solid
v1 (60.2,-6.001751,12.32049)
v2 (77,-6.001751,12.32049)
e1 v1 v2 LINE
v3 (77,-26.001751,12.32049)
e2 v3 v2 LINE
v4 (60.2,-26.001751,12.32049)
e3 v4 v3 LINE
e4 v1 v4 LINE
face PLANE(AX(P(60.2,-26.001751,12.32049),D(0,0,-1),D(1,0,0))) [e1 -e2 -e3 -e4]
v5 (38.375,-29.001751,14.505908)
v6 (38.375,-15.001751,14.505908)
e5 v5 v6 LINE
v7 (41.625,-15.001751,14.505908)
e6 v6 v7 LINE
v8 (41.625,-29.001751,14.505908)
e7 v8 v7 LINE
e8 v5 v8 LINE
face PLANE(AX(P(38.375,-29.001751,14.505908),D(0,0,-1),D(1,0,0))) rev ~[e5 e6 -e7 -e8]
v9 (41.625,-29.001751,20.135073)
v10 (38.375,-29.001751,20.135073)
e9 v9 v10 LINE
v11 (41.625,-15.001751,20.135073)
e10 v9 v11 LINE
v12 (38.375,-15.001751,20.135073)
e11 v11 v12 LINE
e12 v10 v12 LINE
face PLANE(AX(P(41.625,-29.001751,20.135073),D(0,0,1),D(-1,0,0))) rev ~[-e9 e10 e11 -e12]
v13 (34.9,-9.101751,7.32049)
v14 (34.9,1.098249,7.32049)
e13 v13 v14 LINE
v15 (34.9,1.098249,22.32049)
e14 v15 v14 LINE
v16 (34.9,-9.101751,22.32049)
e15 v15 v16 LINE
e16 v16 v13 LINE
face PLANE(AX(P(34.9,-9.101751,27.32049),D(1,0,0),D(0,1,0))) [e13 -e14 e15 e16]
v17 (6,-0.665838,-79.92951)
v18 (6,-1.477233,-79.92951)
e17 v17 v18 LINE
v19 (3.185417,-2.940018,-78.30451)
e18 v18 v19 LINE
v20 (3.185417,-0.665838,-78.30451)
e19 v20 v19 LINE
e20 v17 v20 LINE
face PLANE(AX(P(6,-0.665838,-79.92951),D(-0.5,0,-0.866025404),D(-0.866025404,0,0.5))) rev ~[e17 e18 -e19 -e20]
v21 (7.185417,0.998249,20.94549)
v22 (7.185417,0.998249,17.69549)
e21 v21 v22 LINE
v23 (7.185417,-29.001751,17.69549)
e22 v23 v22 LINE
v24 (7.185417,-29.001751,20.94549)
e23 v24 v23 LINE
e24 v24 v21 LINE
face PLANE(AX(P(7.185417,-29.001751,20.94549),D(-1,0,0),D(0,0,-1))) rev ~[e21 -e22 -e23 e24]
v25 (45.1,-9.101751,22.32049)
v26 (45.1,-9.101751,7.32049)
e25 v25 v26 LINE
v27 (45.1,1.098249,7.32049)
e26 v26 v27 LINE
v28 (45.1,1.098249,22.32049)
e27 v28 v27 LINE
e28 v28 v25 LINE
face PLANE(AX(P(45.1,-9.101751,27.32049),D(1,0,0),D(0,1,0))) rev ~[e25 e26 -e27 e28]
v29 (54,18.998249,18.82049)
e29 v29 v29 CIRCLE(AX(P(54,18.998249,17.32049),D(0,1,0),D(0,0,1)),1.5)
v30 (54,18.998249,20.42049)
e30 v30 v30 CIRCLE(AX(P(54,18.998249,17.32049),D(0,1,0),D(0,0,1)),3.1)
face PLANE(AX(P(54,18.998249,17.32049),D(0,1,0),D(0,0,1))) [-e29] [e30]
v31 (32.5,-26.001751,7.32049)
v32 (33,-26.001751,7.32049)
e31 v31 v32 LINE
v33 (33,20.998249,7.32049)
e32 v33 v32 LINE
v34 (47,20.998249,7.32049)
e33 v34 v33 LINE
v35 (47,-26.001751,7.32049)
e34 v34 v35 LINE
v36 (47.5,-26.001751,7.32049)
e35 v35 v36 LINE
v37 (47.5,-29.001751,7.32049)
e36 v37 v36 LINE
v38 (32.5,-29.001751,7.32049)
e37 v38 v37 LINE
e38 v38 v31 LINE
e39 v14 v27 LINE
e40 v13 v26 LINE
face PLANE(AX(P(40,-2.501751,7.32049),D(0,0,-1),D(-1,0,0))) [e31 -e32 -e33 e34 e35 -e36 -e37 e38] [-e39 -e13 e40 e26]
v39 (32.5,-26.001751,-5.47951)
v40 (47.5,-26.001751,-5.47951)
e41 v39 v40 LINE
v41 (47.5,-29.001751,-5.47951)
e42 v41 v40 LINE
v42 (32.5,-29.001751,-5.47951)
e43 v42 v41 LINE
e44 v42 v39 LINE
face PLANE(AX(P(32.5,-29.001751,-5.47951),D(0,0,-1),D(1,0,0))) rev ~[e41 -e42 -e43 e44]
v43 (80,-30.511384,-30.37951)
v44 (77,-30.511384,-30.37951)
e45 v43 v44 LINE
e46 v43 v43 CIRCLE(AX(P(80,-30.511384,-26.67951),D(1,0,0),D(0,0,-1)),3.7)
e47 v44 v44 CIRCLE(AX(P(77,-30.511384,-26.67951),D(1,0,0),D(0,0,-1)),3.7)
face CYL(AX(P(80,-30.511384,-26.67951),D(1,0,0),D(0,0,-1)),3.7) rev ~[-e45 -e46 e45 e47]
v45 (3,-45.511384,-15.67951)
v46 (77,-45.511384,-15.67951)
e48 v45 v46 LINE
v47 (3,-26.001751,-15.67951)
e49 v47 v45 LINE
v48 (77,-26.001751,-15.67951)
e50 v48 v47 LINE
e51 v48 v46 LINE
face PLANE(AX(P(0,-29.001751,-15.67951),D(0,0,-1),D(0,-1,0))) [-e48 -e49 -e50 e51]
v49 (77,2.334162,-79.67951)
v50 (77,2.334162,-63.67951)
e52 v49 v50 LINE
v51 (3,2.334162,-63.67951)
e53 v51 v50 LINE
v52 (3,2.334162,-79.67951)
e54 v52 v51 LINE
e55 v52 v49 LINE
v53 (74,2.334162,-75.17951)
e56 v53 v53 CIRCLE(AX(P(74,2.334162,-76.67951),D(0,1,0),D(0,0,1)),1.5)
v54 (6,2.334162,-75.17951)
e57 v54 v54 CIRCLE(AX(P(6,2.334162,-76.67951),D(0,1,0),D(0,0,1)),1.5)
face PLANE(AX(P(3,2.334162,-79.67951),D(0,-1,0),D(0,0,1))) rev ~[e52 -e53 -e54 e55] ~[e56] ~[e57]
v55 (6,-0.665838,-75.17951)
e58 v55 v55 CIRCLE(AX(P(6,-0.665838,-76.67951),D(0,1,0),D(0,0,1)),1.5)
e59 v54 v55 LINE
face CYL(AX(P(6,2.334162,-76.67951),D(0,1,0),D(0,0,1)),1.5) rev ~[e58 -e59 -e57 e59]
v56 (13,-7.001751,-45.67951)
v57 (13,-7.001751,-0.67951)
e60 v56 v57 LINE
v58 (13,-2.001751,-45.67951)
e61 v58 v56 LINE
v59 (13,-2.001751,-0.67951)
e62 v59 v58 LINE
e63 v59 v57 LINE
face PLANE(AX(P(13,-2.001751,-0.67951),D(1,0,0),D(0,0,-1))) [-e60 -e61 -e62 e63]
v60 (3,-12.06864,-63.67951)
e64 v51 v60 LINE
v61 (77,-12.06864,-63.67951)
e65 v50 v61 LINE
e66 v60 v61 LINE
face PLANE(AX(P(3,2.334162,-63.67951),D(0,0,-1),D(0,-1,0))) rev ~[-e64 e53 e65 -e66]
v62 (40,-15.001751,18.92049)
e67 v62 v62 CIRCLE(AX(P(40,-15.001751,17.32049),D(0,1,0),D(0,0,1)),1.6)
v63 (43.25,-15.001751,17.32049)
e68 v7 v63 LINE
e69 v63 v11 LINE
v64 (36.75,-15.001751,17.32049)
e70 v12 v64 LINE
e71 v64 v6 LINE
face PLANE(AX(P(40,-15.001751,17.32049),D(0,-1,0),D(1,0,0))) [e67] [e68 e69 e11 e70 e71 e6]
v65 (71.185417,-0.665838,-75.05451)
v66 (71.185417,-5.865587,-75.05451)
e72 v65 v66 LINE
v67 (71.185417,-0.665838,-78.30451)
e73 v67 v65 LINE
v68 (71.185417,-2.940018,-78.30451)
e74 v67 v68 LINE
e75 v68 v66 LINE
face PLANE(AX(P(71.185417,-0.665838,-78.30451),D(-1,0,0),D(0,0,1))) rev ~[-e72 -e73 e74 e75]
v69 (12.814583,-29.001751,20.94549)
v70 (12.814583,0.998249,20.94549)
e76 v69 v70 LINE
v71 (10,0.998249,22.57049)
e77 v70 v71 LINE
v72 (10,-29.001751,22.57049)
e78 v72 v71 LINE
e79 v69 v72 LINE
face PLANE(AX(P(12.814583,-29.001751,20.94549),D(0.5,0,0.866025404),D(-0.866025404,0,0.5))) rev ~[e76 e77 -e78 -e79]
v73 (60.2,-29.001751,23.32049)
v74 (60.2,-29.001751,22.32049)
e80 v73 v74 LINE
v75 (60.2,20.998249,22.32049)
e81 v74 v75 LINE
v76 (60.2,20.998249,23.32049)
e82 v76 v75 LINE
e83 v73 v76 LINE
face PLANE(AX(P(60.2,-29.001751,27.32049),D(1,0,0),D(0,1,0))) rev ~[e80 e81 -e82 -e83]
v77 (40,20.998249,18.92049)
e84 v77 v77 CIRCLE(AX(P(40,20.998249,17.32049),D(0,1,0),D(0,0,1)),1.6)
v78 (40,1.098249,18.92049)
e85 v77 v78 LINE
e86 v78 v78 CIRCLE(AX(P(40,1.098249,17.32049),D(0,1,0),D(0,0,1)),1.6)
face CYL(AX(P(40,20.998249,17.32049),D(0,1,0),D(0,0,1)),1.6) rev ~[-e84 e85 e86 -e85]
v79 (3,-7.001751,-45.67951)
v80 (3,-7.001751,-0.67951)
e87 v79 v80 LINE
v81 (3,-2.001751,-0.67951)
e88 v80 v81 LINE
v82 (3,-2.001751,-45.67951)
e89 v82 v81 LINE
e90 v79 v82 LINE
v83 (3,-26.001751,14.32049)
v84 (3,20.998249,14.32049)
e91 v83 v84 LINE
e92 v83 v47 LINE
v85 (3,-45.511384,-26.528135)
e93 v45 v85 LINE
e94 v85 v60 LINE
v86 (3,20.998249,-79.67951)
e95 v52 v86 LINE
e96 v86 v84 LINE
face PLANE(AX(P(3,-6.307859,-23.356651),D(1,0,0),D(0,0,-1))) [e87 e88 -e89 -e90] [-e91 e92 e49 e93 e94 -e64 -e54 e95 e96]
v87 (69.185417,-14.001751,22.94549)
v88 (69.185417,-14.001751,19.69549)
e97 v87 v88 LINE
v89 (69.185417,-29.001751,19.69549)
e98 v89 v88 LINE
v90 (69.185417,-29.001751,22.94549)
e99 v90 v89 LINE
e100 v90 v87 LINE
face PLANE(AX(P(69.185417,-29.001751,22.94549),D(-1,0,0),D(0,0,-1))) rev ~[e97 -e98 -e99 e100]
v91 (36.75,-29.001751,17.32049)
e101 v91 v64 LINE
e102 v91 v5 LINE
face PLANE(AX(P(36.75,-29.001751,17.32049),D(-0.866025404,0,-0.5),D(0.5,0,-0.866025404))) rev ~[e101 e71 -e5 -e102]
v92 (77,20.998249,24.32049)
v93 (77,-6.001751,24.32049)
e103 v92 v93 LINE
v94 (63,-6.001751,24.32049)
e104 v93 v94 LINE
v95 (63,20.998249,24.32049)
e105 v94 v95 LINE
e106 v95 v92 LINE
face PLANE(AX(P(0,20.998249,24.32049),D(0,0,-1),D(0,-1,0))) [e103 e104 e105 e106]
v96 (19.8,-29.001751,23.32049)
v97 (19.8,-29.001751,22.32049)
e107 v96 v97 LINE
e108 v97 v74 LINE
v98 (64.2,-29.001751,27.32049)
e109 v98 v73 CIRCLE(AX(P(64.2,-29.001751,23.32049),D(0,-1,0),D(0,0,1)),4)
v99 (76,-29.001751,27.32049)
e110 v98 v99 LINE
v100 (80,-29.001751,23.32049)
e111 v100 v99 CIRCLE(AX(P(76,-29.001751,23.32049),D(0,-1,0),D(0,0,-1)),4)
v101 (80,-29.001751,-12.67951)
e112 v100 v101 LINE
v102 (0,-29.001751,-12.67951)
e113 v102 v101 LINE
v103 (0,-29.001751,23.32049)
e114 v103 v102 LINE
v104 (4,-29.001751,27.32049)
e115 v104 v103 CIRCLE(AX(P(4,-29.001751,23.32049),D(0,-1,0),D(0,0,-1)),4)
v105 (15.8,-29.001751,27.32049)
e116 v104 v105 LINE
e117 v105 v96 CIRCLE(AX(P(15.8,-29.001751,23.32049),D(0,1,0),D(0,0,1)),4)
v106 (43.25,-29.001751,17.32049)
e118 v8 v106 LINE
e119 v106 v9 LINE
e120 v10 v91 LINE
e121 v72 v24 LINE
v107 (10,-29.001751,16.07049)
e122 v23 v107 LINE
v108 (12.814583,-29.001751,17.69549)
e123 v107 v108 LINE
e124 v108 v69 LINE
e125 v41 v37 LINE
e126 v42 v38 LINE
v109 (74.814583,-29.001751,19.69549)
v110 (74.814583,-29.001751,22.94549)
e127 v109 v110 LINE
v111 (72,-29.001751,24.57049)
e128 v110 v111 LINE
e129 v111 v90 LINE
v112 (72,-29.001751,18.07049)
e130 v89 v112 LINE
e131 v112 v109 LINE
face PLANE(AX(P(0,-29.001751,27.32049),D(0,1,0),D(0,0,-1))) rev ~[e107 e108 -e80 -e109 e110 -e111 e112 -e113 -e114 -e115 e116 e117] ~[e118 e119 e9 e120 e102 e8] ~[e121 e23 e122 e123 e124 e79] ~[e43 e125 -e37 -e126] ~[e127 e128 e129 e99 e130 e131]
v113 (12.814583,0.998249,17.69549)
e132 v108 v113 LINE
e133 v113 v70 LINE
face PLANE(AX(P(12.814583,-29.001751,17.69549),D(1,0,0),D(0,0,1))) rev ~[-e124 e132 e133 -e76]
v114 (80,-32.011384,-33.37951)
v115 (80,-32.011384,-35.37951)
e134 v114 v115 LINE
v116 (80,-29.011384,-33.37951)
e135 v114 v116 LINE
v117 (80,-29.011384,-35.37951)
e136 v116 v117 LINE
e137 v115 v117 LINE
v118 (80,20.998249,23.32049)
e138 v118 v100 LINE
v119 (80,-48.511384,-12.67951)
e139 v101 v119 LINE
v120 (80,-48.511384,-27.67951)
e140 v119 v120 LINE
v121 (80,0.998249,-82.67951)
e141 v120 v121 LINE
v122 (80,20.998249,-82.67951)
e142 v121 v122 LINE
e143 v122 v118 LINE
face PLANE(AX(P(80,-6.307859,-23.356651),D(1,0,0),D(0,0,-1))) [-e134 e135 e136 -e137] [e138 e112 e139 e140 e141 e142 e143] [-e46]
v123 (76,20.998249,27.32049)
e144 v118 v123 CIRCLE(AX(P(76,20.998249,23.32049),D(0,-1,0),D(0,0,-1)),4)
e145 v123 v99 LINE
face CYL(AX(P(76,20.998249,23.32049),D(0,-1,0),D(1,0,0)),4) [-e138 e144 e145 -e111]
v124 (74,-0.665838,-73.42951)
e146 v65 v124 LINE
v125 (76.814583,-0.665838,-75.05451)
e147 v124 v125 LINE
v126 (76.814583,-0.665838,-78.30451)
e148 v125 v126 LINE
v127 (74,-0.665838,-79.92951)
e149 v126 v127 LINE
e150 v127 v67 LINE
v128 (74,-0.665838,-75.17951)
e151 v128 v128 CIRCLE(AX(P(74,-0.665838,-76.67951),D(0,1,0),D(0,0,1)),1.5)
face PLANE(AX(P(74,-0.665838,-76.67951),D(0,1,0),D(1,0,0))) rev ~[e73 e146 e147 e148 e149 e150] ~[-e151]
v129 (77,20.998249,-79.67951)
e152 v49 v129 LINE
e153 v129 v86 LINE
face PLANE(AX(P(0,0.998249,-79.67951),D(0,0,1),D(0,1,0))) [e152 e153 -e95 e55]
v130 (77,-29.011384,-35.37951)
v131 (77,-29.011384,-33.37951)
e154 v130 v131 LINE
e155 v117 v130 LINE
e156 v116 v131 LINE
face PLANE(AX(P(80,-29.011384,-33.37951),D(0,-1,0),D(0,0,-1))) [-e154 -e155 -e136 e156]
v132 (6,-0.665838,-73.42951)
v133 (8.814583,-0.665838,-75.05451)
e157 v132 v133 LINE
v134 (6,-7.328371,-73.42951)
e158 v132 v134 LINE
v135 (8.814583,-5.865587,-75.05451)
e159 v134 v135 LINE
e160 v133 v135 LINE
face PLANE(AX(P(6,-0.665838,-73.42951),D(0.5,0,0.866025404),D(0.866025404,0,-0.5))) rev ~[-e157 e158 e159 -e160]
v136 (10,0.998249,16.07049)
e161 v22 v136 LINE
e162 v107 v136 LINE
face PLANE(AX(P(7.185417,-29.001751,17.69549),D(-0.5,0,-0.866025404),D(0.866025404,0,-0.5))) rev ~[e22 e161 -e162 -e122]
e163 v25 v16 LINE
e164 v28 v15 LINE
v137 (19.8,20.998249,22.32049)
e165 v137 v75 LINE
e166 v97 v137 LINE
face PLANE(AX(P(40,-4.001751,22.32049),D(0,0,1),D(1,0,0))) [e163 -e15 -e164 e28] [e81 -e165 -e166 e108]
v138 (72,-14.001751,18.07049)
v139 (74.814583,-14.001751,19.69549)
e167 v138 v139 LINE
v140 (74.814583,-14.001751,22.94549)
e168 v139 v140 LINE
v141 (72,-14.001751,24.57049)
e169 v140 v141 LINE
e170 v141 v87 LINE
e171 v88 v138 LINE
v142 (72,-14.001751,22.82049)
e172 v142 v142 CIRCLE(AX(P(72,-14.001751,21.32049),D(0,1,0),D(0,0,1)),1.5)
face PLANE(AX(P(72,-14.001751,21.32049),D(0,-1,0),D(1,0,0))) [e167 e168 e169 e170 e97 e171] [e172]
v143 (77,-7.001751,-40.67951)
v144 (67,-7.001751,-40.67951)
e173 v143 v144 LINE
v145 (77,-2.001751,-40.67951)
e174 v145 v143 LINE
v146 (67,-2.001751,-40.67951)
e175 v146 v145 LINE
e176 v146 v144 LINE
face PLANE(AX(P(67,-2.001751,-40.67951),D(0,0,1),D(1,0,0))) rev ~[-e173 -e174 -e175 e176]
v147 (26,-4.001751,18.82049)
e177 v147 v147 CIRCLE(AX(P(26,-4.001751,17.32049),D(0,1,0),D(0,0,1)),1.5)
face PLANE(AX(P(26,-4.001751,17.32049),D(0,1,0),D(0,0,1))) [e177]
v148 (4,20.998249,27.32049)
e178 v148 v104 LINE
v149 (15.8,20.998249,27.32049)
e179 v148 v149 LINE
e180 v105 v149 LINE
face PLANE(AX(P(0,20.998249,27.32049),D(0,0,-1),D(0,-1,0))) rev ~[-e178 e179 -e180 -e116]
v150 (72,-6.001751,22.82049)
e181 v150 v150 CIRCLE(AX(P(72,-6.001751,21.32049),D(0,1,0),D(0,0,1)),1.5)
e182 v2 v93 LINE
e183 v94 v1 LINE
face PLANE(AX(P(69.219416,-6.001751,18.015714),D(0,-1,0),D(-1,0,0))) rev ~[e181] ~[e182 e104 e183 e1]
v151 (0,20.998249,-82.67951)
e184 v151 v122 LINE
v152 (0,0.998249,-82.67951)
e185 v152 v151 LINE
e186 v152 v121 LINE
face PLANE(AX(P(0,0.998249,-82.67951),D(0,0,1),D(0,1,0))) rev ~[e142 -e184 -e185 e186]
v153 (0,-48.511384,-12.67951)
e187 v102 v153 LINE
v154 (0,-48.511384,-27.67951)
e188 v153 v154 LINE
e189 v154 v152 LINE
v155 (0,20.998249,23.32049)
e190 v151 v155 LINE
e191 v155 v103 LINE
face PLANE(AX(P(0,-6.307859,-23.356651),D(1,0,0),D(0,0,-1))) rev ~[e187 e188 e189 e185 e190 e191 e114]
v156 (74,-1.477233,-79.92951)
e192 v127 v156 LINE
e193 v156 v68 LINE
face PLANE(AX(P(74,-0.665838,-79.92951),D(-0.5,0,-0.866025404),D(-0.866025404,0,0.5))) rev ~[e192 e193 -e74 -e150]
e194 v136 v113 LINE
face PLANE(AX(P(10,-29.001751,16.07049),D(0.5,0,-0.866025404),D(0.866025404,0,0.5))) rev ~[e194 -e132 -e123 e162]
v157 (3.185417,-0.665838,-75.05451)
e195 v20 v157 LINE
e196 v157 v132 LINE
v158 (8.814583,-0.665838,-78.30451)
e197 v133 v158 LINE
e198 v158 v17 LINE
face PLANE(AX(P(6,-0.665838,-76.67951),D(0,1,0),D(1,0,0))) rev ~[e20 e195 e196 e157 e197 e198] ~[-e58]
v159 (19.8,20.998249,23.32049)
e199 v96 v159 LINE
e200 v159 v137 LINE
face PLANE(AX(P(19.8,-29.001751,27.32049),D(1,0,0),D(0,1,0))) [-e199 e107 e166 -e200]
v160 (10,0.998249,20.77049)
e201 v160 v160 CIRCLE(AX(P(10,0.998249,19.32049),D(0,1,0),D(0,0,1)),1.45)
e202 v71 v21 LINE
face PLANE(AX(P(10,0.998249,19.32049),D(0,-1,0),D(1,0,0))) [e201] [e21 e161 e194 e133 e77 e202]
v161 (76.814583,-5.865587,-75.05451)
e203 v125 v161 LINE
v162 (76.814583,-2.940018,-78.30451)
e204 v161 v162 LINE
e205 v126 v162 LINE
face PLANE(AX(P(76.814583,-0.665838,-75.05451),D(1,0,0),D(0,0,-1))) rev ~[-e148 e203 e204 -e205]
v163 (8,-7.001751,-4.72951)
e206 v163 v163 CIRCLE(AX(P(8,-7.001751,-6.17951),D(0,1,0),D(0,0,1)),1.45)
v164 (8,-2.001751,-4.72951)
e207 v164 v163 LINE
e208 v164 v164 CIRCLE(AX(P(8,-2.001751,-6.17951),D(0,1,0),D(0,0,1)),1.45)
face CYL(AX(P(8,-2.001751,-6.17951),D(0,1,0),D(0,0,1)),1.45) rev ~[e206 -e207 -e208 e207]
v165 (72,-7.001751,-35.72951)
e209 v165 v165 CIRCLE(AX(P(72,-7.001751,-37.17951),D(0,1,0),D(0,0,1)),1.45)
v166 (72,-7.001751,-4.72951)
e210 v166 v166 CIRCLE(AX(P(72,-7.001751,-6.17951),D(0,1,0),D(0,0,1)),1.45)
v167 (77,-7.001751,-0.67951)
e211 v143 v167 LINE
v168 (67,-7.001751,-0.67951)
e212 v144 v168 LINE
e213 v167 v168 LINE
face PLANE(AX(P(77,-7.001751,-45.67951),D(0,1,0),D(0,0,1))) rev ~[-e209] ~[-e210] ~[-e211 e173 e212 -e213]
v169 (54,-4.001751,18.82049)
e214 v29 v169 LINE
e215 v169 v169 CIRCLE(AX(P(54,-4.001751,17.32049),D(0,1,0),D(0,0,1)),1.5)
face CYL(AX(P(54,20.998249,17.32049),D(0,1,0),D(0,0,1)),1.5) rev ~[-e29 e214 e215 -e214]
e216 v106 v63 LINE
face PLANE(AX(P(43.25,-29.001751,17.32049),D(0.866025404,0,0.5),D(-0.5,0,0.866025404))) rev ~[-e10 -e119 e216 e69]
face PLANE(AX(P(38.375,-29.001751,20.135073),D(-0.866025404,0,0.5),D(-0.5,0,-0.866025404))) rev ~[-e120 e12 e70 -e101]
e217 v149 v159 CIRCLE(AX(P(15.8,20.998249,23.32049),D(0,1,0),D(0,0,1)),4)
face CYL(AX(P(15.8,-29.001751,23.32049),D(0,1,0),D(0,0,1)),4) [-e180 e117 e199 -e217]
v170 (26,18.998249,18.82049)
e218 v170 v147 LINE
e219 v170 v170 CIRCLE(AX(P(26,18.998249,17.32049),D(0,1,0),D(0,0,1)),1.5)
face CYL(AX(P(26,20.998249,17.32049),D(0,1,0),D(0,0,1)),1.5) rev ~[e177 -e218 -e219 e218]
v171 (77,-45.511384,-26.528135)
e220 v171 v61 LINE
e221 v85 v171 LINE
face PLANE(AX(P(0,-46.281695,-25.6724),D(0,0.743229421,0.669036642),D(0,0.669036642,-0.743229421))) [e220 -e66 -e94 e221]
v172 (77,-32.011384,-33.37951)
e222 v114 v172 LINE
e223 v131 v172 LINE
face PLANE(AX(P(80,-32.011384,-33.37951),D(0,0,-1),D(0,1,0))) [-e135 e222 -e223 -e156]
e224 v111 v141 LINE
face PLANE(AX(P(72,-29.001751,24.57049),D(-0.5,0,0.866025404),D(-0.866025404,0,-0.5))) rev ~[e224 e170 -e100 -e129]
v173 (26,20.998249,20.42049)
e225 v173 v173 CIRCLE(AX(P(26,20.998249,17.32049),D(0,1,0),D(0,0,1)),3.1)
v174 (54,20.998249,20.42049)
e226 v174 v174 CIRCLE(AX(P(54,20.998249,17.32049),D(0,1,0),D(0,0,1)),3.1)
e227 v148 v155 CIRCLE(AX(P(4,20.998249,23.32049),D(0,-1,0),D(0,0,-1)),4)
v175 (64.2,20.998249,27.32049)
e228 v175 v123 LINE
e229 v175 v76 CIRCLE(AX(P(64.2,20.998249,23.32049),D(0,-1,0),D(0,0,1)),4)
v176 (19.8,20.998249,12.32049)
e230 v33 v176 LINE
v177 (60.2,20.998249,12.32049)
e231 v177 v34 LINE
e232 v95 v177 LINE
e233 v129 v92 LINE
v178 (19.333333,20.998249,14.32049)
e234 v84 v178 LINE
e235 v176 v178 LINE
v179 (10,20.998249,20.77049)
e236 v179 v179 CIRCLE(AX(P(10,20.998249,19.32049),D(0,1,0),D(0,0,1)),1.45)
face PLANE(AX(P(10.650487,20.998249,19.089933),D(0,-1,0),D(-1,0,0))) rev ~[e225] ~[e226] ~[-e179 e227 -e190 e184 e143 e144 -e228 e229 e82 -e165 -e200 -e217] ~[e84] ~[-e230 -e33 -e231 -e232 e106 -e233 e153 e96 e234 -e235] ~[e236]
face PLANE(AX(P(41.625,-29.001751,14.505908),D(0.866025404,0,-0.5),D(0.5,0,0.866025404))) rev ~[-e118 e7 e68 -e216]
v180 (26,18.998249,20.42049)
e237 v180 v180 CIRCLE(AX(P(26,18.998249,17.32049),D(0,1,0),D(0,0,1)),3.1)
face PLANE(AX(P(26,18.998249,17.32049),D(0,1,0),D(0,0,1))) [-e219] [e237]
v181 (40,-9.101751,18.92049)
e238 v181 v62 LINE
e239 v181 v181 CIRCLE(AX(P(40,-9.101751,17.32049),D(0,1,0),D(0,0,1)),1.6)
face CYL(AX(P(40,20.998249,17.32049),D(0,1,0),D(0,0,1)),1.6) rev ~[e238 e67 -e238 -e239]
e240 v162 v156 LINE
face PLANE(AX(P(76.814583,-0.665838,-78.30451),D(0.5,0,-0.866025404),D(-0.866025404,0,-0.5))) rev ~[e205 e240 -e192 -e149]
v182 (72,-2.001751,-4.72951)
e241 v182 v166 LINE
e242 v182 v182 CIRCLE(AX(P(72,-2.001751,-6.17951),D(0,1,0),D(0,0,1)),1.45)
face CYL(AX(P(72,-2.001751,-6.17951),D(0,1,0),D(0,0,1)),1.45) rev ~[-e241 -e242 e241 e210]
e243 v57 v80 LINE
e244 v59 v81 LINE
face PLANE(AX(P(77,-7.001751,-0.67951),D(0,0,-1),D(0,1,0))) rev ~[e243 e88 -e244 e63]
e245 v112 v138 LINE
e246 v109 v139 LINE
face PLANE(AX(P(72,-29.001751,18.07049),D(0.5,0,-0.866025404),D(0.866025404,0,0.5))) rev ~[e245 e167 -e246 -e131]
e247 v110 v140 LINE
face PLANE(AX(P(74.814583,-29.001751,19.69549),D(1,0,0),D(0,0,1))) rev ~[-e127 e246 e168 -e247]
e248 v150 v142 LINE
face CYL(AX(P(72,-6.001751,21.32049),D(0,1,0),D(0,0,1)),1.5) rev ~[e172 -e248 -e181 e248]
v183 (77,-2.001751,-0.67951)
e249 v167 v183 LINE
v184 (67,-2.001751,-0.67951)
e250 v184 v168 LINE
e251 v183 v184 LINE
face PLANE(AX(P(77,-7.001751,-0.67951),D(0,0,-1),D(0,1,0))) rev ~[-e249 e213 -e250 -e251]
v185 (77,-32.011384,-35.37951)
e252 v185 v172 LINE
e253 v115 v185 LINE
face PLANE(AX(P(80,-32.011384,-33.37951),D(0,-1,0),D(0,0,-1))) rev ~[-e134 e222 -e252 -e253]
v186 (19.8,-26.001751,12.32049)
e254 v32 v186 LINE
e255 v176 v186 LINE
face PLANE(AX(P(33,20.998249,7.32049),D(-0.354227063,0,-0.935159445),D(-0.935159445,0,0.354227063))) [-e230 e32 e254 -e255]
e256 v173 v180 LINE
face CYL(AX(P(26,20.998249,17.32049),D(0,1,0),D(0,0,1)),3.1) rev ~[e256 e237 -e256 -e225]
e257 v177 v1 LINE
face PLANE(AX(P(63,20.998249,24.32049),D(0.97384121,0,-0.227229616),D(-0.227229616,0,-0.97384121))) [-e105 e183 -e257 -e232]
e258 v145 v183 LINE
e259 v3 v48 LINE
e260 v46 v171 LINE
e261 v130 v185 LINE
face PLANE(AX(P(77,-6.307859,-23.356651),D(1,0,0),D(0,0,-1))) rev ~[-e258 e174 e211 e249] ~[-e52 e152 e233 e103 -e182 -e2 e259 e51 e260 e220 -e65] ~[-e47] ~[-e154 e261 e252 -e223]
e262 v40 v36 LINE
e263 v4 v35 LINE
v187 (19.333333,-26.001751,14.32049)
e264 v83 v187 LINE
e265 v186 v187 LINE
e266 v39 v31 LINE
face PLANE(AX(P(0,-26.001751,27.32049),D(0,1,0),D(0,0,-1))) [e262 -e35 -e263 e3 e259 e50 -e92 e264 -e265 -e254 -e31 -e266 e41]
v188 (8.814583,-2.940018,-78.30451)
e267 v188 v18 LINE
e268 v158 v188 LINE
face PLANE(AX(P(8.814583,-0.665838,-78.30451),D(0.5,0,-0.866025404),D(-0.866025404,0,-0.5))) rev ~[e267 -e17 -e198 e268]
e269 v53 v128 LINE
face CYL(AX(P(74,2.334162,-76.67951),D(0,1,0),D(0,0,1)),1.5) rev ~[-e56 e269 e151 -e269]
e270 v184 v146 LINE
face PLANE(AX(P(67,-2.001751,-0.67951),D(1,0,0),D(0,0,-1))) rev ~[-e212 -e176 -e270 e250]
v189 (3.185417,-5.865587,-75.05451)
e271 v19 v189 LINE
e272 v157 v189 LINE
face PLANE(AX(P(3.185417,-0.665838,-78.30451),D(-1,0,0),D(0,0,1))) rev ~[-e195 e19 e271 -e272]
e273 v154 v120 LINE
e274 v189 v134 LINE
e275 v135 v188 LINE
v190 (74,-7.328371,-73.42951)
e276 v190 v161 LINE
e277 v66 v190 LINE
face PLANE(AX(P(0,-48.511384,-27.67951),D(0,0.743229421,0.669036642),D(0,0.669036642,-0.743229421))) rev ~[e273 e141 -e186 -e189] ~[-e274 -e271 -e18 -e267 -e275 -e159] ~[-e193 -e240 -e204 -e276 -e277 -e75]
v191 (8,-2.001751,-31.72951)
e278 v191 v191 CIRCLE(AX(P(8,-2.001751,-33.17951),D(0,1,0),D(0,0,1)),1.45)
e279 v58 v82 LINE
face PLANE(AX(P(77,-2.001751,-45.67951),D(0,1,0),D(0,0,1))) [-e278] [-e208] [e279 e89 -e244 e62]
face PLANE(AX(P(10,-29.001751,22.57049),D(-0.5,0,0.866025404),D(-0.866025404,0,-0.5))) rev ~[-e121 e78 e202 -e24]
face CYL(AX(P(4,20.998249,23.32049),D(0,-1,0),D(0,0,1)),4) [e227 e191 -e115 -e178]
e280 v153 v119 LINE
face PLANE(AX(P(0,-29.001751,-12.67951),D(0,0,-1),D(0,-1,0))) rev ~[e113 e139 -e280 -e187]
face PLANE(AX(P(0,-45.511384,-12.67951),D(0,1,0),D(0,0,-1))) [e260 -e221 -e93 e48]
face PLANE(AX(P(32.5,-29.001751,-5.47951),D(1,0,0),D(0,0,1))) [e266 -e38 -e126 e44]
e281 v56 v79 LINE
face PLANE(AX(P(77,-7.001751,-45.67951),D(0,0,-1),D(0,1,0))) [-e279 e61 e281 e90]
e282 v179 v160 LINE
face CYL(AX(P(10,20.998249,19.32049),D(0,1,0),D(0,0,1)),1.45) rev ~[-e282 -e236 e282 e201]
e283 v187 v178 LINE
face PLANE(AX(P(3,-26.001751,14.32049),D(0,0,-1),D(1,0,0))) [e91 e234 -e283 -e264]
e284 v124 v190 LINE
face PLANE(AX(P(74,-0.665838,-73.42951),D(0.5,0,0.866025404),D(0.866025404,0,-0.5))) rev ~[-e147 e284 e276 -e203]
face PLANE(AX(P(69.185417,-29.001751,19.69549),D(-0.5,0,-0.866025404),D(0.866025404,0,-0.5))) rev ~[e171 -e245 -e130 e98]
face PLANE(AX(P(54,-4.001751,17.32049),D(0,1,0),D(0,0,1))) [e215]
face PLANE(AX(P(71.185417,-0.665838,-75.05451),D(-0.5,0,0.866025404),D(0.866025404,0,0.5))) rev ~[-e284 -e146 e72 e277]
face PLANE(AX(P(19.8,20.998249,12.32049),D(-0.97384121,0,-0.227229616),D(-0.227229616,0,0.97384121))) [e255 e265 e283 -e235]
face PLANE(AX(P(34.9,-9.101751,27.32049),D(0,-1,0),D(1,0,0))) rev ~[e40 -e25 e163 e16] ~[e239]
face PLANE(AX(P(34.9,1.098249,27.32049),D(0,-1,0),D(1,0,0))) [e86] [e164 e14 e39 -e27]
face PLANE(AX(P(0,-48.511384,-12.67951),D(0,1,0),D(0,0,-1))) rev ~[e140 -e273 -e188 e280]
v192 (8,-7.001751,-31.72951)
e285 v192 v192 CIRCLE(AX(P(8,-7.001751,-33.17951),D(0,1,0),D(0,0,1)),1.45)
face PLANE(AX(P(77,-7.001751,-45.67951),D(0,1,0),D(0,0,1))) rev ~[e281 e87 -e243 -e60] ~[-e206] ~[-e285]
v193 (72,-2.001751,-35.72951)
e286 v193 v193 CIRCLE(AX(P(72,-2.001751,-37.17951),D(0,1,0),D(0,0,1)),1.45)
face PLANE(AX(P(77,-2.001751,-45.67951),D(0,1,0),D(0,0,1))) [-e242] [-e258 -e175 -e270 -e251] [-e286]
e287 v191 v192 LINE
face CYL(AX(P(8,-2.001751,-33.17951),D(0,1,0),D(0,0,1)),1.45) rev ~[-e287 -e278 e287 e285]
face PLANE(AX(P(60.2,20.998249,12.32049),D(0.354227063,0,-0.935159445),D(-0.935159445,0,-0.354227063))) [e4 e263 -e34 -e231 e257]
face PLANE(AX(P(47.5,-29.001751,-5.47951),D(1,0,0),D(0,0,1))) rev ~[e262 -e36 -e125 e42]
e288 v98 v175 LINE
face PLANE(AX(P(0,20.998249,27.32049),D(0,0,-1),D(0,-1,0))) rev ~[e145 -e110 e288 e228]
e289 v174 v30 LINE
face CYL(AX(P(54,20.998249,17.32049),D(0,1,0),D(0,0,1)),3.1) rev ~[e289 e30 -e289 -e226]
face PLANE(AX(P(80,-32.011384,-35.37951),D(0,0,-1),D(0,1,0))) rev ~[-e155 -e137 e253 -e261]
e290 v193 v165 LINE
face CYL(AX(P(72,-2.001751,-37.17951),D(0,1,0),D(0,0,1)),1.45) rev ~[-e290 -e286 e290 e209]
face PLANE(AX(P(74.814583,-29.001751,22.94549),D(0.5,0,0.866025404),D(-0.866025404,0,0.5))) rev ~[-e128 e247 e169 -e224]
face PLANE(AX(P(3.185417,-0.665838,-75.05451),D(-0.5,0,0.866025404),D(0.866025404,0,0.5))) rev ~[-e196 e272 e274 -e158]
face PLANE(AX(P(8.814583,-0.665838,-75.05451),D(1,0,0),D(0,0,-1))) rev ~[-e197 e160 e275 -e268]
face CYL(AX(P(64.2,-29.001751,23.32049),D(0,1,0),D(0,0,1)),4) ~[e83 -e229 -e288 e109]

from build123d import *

# Parameters (mm, degrees)
BOSS_EXTRUDE1_DEPTH = 80
SHELL1_T            = -3
SKETCH3_W           = 46
SKETCH3_H           = 47
BOSS_EXTRUDE2_DEPTH = 17
SKETCH4_W           = 10.2
SKETCH4_H           = 10.2
CUT_EXTRUDE1_DEPTH  = 20
SKETCH6_W           = 15
SKETCH6_H           = 12.8
CUT_EXTRUDE2_DEPTH  = 3
SKETCH7_W           = 40.4
SKETCH7_H           = 50
CUT_EXTRUDE3_DEPTH  = 5
FILLET1_R           = 4
CUT_EXTRUDE7_DEPTH  = 47
SKETCH13_R          = 1.5
CUT_EXTRUDE8_DEPTH  = 25
SKETCH14_R          = 3.1
CUT_EXTRUDE9_DEPTH  = 2
SKETCH17_W          = 45
SKETCH17_H          = 5
BOSS_EXTRUDE5_DEPTH = 74
CUT_EXTRUDE10_REACH = 126.093
SKETCH18_W          = 54
SKETCH18_H          = 45
CUT_EXTRUDE11_REACH = 126.093
SKETCH19_R          = 1.45
BOSS_EXTRUDE6_DEPTH = 47
SKETCH22_R          = 1.45
CUT_EXTRUDE12_DEPTH = 135.415364765
CUT_EXTRUDE13_REACH = 126.857
SKETCH24_R          = 3.7
SKETCH24_W          = 2
SKETCH24_H          = 3
BOSS_EXTRUDE7_DEPTH = 74
SKETCH27_R          = 1.5
CUT_EXTRUDE14_DEPTH = 10
CUT_EXTRUDE15_START = -3
CUT_EXTRUDE15_DEPTH = 32
CUT_EXTRUDE16_DEPTH = 30
BOSS_EXTRUDE8_DEPTH = 20
SKETCH31_R          = 1.5
CUT_EXTRUDE17_DEPTH = 123.649786567
CUT_EXTRUDE18_DEPTH = 15
CUT_EXTRUDE19_REACH = 126.093
SKETCH33_W          = 10
SKETCH33_H          = 5
SKETCH34_R          = 1.6
CUT_EXTRUDE20_DEPTH = 135.415364765
CUT_EXTRUDE22_DEPTH = 14


with BuildPart() as part:
    # Sketch2 → Boss-Extrude1 (new body)
    with BuildSketch(Plane(origin=(0, 0, 0), x_dir=(0, 0, -1), z_dir=(1, 0, 0))):
        Polygon((-27.320490368, 20.998248687), (-27.320490368, -29.001751313), (12.679509632, -29.001751313), (12.679509632, -48.511383538), (27.679509632, -48.511383538), (82.679509632, 0.998248687), (82.679509632, 20.998248687), align=None)
    extrude(amount=BOSS_EXTRUDE1_DEPTH)

    # Shell1
    shell1_openings = [part.faces().sort_by_distance(p)[0] for p in [
        (40, 20.998248687, -27.679509632),
    ]]
    offset(amount=SHELL1_T, openings=shell1_openings, kind=Kind.INTERSECTION)

    # Sketch3 → Boss-Extrude2 (add)
    with BuildSketch(Plane(origin=(0, 0, 24.320490368), x_dir=(-1, 0, 0), z_dir=(0, 0, -1))):
        with Locations((-40, -2.501751313)):
            Rectangle(SKETCH3_W, SKETCH3_H)
    extrude(amount=BOSS_EXTRUDE2_DEPTH)

    # Sketch4 → Cut-Extrude1 (cut)
    with BuildSketch(Plane.XY.offset(27.320490368)):
        with Locations((40, -4.001751313)):
            Rectangle(SKETCH4_W, SKETCH4_H)
    extrude(amount=-CUT_EXTRUDE1_DEPTH, mode=Mode.SUBTRACT)

    # Sketch6 → Cut-Extrude2 (cut)
    with BuildSketch(Plane.XZ.offset(29.001751313)):
        with Locations((40, 0.920490368)):
            Rectangle(SKETCH6_W, SKETCH6_H)
    extrude(amount=-CUT_EXTRUDE2_DEPTH, mode=Mode.SUBTRACT)

    # Sketch7 → Cut-Extrude3 (cut)
    with BuildSketch(Plane.XY.offset(27.320490368)):
        with Locations((40, -4.001751313)):
            Rectangle(SKETCH7_W, SKETCH7_H)
    extrude(amount=-CUT_EXTRUDE3_DEPTH, mode=Mode.SUBTRACT)

    # Fillet1
    fillet1_edges = [part.edges().sort_by_distance(p)[0] for p in [
        (80, -4.001751313, 27.320490368),
        (19.8, -4.001751313, 27.320490368),
        (0, -4.001751313, 27.320490368),
        (60.2, -4.001751313, 27.320490368),
    ]]
    fillet(fillet1_edges, radius=FILLET1_R)

    # Sketch12 → Cut-Extrude7 (cut)
    with BuildSketch(Plane(origin=(0, 20.998248687, 0), x_dir=(1, 0, 0), z_dir=(0, 1, 0))):
        Polygon((33, -7.320490368), (19.8, -12.320490368), (17, -24.320490368), (17, -7.320490368), align=None)
        Polygon((47, -7.320490368), (63, -7.320490368), (63, -24.320490368), (60.2, -12.320490368), align=None)
    extrude(amount=-CUT_EXTRUDE7_DEPTH, mode=Mode.SUBTRACT)

    # Sketch13 → Cut-Extrude8 (cut)
    with BuildSketch(Plane(origin=(0, 20.998248687, 0), x_dir=(1, 0, 0), z_dir=(0, 1, 0))):
        with Locations(Location((26, -17.320490368, 0), (0, 0, 270))):
            Circle(SKETCH13_R)
        with Locations(Location((54, -17.320490368, 0), (0, 0, 270))):
            Circle(SKETCH13_R)
    extrude(amount=-CUT_EXTRUDE8_DEPTH, mode=Mode.SUBTRACT)

    # Sketch14 → Cut-Extrude9 (cut)
    with BuildSketch(Plane(origin=(0, 20.998248687, 0), x_dir=(1, 0, 0), z_dir=(0, 1, 0))):
        with Locations(Location((26, -17.320490368, 0), (0, 0, 270))):
            Circle(SKETCH14_R)
        with Locations(Location((54, -17.320490368, 0), (0, 0, 270))):
            Circle(SKETCH14_R)
    extrude(amount=-CUT_EXTRUDE9_DEPTH, mode=Mode.SUBTRACT)

    # Sketch17 → Boss-Extrude5 (add)
    with BuildSketch(Plane.ZY.offset(-77)):
        with Locations((-23.179509632, -4.501751313)):
            Rectangle(SKETCH17_W, SKETCH17_H)
    extrude(amount=BOSS_EXTRUDE5_DEPTH)

    # Sketch18 → Cut-Extrude10 (cut, up to next)
    with BuildSketch(Plane(origin=(0, -2.001751313, 0), x_dir=(1, 0, 0), z_dir=(0, 1, 0)), mode=Mode.PRIVATE) as cut_extrude10_sk1:
        with Locations((40, 23.179509632)):
            Rectangle(SKETCH18_W, SKETCH18_H)
    cut_extrude10_tool1 = extrude(cut_extrude10_sk1.sketch, amount=-CUT_EXTRUDE10_REACH, mode=Mode.PRIVATE) & part.part
    add(cut_extrude10_tool1.solids().sort_by_distance((40, -2.001751, -23.17951))[0], mode=Mode.SUBTRACT)

    # Sketch19 → Cut-Extrude11 (cut, up to next)
    with BuildSketch(Plane(origin=(0, -2.001751313, 0), x_dir=(1, 0, 0), z_dir=(0, 1, 0)), mode=Mode.PRIVATE) as cut_extrude11_sk1:
        with Locations(Location((72, 37.179509632, 0), (0, 0, 270))):
            Circle(SKETCH19_R)
    cut_extrude11_tool1 = extrude(cut_extrude11_sk1.sketch, amount=-CUT_EXTRUDE11_REACH, mode=Mode.PRIVATE) & part.part
    # Sketch19 → Cut-Extrude11 (cut, up to next)
    with BuildSketch(Plane(origin=(0, -2.001751313, 0), x_dir=(1, 0, 0), z_dir=(0, 1, 0)), mode=Mode.PRIVATE) as cut_extrude11_sk2:
        with Locations(Location((72, 6.179509632, 0), (0, 0, 270))):
            Circle(SKETCH19_R)
    cut_extrude11_tool2 = extrude(cut_extrude11_sk2.sketch, amount=-CUT_EXTRUDE11_REACH, mode=Mode.PRIVATE) & part.part
    # Sketch19 → Cut-Extrude11 (cut, up to next)
    with BuildSketch(Plane(origin=(0, -2.001751313, 0), x_dir=(1, 0, 0), z_dir=(0, 1, 0)), mode=Mode.PRIVATE) as cut_extrude11_sk3:
        with Locations(Location((8, 33.179509632, 0), (0, 0, 270))):
            Circle(SKETCH19_R)
    cut_extrude11_tool3 = extrude(cut_extrude11_sk3.sketch, amount=-CUT_EXTRUDE11_REACH, mode=Mode.PRIVATE) & part.part
    # Sketch19 → Cut-Extrude11 (cut, up to next)
    with BuildSketch(Plane(origin=(0, -2.001751313, 0), x_dir=(1, 0, 0), z_dir=(0, 1, 0)), mode=Mode.PRIVATE) as cut_extrude11_sk4:
        with Locations(Location((8, 6.179509632, 0), (0, 0, 270))):
            Circle(SKETCH19_R)
    cut_extrude11_tool4 = extrude(cut_extrude11_sk4.sketch, amount=-CUT_EXTRUDE11_REACH, mode=Mode.PRIVATE) & part.part
    add(cut_extrude11_tool1.solids().sort_by_distance((72, -2.001751, -37.17951))[0], mode=Mode.SUBTRACT)
    add(cut_extrude11_tool2.solids().sort_by_distance((72, -2.001751, -6.17951))[0], mode=Mode.SUBTRACT)
    add(cut_extrude11_tool3.solids().sort_by_distance((8, -2.001751, -33.17951))[0], mode=Mode.SUBTRACT)
    add(cut_extrude11_tool4.solids().sort_by_distance((8, -2.001751, -6.17951))[0], mode=Mode.SUBTRACT)

    # Sketch21 → Boss-Extrude6 (add)
    with BuildSketch(Plane(origin=(0, -26.001751313, 0), x_dir=(1, 0, 0), z_dir=(0, 1, 0))):
        Polygon((3, -24.320490368), (3, -14.320490368), (19.333333333, -14.320490368), (17, -24.320490368), align=None)
    extrude(amount=BOSS_EXTRUDE6_DEPTH)

    # Sketch22 → Cut-Extrude12 (cut, through all)
    with BuildSketch(Plane(origin=(0, 20.998248687, 0), x_dir=(1, 0, 0), z_dir=(0, 1, 0))):
        with Locations(Location((10, -19.320490368, 0), (0, 0, 270))):
            Circle(SKETCH22_R)
    extrude(amount=-CUT_EXTRUDE12_DEPTH, mode=Mode.SUBTRACT)

    # Sketch24 → Cut-Extrude13 (cut, up to next)
    with BuildSketch(Plane(origin=(80, 0, 0), x_dir=(0, 0, -1), z_dir=(1, 0, 0)), mode=Mode.PRIVATE) as cut_extrude13_sk1:
        with Locations((26.679509632, -30.511383538)):
            Circle(SKETCH24_R)
    cut_extrude13_tool1 = extrude(cut_extrude13_sk1.sketch, amount=-CUT_EXTRUDE13_REACH, mode=Mode.PRIVATE) & part.part
    # Sketch24 → Cut-Extrude13 (cut, up to next)
    with BuildSketch(Plane(origin=(80, 0, 0), x_dir=(0, 0, -1), z_dir=(1, 0, 0)), mode=Mode.PRIVATE) as cut_extrude13_sk2:
        with Locations((34.379509632, -30.511383538)):
            Rectangle(SKETCH24_W, SKETCH24_H)
    cut_extrude13_tool2 = extrude(cut_extrude13_sk2.sketch, amount=-CUT_EXTRUDE13_REACH, mode=Mode.PRIVATE) & part.part
    add(cut_extrude13_tool1.solids().sort_by_distance((80, -30.511384, -26.67951))[0], mode=Mode.SUBTRACT)
    add(cut_extrude13_tool2.solids().sort_by_distance((80, -30.511384, -34.37951))[0], mode=Mode.SUBTRACT)

    # Sketch26 → Boss-Extrude7 (add)
    with BuildSketch(Plane(origin=(3, 0, 0), x_dir=(0, 0, -1), z_dir=(1, 0, 0))):
        Polygon((79.679509632, 2.334161996), (63.679509632, 2.334161996), (63.679509632, -12.068640106), align=None)
    extrude(amount=BOSS_EXTRUDE7_DEPTH)

    # Sketch27 → Cut-Extrude14 (cut)
    with BuildSketch(Plane(origin=(0, 2.334161996, 0), x_dir=(1, 0, 0), z_dir=(0, 1, 0))):
        with Locations(Location((6, 76.679509632, 0), (0, 0, 270))):
            Circle(SKETCH27_R)
        with Locations(Location((74, 76.679509632, 0), (0, 0, 270))):
            Circle(SKETCH27_R)
    extrude(amount=-CUT_EXTRUDE14_DEPTH, mode=Mode.SUBTRACT)

    # Sketch28 → Cut-Extrude15 (cut)
    with BuildSketch(Plane(origin=(0, 2.334161996, 0), x_dir=(1, 0, 0), z_dir=(0, 1, 0)).offset(CUT_EXTRUDE15_START)):
        Polygon((74, 79.929509632), (71.185417438, 78.304509632), (71.185417438, 75.054509632), (74, 73.429509632), (76.814582562, 75.054509632), (76.814582562, 78.304509632), align=None)
        Polygon((6, 73.429509632), (8.814582562, 75.054509632), (8.814582562, 78.304509632), (6, 79.929509632), (3.185417438, 78.304509632), (3.185417438, 75.054509632), align=None)
    extrude(amount=-CUT_EXTRUDE15_DEPTH, mode=Mode.SUBTRACT)

    # Sketch29 → Cut-Extrude16 (cut)
    with BuildSketch(Plane.XZ.offset(29.001751313)):
        Polygon((7.185417438, 17.695490368), (10, 16.070490368), (12.814582562, 17.695490368), (12.814582562, 20.945490368), (10, 22.570490368), (7.185417438, 20.945490368), align=None)
    extrude(amount=-CUT_EXTRUDE16_DEPTH, mode=Mode.SUBTRACT)

    # Sketch30 → Boss-Extrude8 (add)
    with BuildSketch(Plane(origin=(0, -26.001751313, 0), x_dir=(1, 0, 0), z_dir=(0, 1, 0))):
        Polygon((77, -24.320490368), (63, -24.320490368), (60.2, -12.320490368), (77, -12.320490368), align=None)
    extrude(amount=BOSS_EXTRUDE8_DEPTH)

    # Sketch31 → Cut-Extrude17 (cut, through all)
    with BuildSketch(Plane(origin=(0, -6.001751313, 0), x_dir=(1, 0, 0), z_dir=(0, 1, 0))):
        with Locations(Location((72, -21.320490368, 0), (0, 0, 270))):
            Circle(SKETCH31_R)
    extrude(amount=-CUT_EXTRUDE17_DEPTH, mode=Mode.SUBTRACT)

    # Sketch32 → Cut-Extrude18 (cut)
    with BuildSketch(Plane.XZ.offset(29.001751313)):
        Polygon((72, 24.570490368), (69.185417438, 22.945490368), (69.185417438, 19.695490368), (72, 18.070490368), (74.814582562, 19.695490368), (74.814582562, 22.945490368), align=None)
    extrude(amount=-CUT_EXTRUDE18_DEPTH, mode=Mode.SUBTRACT)

    # Sketch33 → Cut-Extrude19 (cut, up to next)
    with BuildSketch(Plane(origin=(0, -2.001751313, 0), x_dir=(1, 0, 0), z_dir=(0, 1, 0)), mode=Mode.PRIVATE) as cut_extrude19_sk1:
        with Locations((72, 43.179509632)):
            Rectangle(SKETCH33_W, SKETCH33_H)
    cut_extrude19_tool1 = extrude(cut_extrude19_sk1.sketch, amount=-CUT_EXTRUDE19_REACH, mode=Mode.PRIVATE) & part.part
    add(cut_extrude19_tool1.solids().sort_by_distance((72, -2.001751, -43.17951))[0], mode=Mode.SUBTRACT)

    # Sketch34 → Cut-Extrude20 (cut, through all)
    with BuildSketch(Plane(origin=(0, 20.998248687, 0), x_dir=(1, 0, 0), z_dir=(0, 1, 0))):
        with Locations(Location((40, -17.320490368, 0), (0, 0, 270))):
            Circle(SKETCH34_R)
    extrude(amount=-CUT_EXTRUDE20_DEPTH, mode=Mode.SUBTRACT)

    # Sketch36 → Cut-Extrude22 (cut)
    with BuildSketch(Plane.XZ.offset(29.001751313)):
        Polygon((38.375, 20.13507293), (36.75, 17.320490368), (38.375, 14.505907805), (41.625, 14.505907805), (43.25, 17.320490368), (41.625, 20.13507293), align=None)
    extrude(amount=-CUT_EXTRUDE22_DEPTH, mode=Mode.SUBTRACT)


solid = part.part
